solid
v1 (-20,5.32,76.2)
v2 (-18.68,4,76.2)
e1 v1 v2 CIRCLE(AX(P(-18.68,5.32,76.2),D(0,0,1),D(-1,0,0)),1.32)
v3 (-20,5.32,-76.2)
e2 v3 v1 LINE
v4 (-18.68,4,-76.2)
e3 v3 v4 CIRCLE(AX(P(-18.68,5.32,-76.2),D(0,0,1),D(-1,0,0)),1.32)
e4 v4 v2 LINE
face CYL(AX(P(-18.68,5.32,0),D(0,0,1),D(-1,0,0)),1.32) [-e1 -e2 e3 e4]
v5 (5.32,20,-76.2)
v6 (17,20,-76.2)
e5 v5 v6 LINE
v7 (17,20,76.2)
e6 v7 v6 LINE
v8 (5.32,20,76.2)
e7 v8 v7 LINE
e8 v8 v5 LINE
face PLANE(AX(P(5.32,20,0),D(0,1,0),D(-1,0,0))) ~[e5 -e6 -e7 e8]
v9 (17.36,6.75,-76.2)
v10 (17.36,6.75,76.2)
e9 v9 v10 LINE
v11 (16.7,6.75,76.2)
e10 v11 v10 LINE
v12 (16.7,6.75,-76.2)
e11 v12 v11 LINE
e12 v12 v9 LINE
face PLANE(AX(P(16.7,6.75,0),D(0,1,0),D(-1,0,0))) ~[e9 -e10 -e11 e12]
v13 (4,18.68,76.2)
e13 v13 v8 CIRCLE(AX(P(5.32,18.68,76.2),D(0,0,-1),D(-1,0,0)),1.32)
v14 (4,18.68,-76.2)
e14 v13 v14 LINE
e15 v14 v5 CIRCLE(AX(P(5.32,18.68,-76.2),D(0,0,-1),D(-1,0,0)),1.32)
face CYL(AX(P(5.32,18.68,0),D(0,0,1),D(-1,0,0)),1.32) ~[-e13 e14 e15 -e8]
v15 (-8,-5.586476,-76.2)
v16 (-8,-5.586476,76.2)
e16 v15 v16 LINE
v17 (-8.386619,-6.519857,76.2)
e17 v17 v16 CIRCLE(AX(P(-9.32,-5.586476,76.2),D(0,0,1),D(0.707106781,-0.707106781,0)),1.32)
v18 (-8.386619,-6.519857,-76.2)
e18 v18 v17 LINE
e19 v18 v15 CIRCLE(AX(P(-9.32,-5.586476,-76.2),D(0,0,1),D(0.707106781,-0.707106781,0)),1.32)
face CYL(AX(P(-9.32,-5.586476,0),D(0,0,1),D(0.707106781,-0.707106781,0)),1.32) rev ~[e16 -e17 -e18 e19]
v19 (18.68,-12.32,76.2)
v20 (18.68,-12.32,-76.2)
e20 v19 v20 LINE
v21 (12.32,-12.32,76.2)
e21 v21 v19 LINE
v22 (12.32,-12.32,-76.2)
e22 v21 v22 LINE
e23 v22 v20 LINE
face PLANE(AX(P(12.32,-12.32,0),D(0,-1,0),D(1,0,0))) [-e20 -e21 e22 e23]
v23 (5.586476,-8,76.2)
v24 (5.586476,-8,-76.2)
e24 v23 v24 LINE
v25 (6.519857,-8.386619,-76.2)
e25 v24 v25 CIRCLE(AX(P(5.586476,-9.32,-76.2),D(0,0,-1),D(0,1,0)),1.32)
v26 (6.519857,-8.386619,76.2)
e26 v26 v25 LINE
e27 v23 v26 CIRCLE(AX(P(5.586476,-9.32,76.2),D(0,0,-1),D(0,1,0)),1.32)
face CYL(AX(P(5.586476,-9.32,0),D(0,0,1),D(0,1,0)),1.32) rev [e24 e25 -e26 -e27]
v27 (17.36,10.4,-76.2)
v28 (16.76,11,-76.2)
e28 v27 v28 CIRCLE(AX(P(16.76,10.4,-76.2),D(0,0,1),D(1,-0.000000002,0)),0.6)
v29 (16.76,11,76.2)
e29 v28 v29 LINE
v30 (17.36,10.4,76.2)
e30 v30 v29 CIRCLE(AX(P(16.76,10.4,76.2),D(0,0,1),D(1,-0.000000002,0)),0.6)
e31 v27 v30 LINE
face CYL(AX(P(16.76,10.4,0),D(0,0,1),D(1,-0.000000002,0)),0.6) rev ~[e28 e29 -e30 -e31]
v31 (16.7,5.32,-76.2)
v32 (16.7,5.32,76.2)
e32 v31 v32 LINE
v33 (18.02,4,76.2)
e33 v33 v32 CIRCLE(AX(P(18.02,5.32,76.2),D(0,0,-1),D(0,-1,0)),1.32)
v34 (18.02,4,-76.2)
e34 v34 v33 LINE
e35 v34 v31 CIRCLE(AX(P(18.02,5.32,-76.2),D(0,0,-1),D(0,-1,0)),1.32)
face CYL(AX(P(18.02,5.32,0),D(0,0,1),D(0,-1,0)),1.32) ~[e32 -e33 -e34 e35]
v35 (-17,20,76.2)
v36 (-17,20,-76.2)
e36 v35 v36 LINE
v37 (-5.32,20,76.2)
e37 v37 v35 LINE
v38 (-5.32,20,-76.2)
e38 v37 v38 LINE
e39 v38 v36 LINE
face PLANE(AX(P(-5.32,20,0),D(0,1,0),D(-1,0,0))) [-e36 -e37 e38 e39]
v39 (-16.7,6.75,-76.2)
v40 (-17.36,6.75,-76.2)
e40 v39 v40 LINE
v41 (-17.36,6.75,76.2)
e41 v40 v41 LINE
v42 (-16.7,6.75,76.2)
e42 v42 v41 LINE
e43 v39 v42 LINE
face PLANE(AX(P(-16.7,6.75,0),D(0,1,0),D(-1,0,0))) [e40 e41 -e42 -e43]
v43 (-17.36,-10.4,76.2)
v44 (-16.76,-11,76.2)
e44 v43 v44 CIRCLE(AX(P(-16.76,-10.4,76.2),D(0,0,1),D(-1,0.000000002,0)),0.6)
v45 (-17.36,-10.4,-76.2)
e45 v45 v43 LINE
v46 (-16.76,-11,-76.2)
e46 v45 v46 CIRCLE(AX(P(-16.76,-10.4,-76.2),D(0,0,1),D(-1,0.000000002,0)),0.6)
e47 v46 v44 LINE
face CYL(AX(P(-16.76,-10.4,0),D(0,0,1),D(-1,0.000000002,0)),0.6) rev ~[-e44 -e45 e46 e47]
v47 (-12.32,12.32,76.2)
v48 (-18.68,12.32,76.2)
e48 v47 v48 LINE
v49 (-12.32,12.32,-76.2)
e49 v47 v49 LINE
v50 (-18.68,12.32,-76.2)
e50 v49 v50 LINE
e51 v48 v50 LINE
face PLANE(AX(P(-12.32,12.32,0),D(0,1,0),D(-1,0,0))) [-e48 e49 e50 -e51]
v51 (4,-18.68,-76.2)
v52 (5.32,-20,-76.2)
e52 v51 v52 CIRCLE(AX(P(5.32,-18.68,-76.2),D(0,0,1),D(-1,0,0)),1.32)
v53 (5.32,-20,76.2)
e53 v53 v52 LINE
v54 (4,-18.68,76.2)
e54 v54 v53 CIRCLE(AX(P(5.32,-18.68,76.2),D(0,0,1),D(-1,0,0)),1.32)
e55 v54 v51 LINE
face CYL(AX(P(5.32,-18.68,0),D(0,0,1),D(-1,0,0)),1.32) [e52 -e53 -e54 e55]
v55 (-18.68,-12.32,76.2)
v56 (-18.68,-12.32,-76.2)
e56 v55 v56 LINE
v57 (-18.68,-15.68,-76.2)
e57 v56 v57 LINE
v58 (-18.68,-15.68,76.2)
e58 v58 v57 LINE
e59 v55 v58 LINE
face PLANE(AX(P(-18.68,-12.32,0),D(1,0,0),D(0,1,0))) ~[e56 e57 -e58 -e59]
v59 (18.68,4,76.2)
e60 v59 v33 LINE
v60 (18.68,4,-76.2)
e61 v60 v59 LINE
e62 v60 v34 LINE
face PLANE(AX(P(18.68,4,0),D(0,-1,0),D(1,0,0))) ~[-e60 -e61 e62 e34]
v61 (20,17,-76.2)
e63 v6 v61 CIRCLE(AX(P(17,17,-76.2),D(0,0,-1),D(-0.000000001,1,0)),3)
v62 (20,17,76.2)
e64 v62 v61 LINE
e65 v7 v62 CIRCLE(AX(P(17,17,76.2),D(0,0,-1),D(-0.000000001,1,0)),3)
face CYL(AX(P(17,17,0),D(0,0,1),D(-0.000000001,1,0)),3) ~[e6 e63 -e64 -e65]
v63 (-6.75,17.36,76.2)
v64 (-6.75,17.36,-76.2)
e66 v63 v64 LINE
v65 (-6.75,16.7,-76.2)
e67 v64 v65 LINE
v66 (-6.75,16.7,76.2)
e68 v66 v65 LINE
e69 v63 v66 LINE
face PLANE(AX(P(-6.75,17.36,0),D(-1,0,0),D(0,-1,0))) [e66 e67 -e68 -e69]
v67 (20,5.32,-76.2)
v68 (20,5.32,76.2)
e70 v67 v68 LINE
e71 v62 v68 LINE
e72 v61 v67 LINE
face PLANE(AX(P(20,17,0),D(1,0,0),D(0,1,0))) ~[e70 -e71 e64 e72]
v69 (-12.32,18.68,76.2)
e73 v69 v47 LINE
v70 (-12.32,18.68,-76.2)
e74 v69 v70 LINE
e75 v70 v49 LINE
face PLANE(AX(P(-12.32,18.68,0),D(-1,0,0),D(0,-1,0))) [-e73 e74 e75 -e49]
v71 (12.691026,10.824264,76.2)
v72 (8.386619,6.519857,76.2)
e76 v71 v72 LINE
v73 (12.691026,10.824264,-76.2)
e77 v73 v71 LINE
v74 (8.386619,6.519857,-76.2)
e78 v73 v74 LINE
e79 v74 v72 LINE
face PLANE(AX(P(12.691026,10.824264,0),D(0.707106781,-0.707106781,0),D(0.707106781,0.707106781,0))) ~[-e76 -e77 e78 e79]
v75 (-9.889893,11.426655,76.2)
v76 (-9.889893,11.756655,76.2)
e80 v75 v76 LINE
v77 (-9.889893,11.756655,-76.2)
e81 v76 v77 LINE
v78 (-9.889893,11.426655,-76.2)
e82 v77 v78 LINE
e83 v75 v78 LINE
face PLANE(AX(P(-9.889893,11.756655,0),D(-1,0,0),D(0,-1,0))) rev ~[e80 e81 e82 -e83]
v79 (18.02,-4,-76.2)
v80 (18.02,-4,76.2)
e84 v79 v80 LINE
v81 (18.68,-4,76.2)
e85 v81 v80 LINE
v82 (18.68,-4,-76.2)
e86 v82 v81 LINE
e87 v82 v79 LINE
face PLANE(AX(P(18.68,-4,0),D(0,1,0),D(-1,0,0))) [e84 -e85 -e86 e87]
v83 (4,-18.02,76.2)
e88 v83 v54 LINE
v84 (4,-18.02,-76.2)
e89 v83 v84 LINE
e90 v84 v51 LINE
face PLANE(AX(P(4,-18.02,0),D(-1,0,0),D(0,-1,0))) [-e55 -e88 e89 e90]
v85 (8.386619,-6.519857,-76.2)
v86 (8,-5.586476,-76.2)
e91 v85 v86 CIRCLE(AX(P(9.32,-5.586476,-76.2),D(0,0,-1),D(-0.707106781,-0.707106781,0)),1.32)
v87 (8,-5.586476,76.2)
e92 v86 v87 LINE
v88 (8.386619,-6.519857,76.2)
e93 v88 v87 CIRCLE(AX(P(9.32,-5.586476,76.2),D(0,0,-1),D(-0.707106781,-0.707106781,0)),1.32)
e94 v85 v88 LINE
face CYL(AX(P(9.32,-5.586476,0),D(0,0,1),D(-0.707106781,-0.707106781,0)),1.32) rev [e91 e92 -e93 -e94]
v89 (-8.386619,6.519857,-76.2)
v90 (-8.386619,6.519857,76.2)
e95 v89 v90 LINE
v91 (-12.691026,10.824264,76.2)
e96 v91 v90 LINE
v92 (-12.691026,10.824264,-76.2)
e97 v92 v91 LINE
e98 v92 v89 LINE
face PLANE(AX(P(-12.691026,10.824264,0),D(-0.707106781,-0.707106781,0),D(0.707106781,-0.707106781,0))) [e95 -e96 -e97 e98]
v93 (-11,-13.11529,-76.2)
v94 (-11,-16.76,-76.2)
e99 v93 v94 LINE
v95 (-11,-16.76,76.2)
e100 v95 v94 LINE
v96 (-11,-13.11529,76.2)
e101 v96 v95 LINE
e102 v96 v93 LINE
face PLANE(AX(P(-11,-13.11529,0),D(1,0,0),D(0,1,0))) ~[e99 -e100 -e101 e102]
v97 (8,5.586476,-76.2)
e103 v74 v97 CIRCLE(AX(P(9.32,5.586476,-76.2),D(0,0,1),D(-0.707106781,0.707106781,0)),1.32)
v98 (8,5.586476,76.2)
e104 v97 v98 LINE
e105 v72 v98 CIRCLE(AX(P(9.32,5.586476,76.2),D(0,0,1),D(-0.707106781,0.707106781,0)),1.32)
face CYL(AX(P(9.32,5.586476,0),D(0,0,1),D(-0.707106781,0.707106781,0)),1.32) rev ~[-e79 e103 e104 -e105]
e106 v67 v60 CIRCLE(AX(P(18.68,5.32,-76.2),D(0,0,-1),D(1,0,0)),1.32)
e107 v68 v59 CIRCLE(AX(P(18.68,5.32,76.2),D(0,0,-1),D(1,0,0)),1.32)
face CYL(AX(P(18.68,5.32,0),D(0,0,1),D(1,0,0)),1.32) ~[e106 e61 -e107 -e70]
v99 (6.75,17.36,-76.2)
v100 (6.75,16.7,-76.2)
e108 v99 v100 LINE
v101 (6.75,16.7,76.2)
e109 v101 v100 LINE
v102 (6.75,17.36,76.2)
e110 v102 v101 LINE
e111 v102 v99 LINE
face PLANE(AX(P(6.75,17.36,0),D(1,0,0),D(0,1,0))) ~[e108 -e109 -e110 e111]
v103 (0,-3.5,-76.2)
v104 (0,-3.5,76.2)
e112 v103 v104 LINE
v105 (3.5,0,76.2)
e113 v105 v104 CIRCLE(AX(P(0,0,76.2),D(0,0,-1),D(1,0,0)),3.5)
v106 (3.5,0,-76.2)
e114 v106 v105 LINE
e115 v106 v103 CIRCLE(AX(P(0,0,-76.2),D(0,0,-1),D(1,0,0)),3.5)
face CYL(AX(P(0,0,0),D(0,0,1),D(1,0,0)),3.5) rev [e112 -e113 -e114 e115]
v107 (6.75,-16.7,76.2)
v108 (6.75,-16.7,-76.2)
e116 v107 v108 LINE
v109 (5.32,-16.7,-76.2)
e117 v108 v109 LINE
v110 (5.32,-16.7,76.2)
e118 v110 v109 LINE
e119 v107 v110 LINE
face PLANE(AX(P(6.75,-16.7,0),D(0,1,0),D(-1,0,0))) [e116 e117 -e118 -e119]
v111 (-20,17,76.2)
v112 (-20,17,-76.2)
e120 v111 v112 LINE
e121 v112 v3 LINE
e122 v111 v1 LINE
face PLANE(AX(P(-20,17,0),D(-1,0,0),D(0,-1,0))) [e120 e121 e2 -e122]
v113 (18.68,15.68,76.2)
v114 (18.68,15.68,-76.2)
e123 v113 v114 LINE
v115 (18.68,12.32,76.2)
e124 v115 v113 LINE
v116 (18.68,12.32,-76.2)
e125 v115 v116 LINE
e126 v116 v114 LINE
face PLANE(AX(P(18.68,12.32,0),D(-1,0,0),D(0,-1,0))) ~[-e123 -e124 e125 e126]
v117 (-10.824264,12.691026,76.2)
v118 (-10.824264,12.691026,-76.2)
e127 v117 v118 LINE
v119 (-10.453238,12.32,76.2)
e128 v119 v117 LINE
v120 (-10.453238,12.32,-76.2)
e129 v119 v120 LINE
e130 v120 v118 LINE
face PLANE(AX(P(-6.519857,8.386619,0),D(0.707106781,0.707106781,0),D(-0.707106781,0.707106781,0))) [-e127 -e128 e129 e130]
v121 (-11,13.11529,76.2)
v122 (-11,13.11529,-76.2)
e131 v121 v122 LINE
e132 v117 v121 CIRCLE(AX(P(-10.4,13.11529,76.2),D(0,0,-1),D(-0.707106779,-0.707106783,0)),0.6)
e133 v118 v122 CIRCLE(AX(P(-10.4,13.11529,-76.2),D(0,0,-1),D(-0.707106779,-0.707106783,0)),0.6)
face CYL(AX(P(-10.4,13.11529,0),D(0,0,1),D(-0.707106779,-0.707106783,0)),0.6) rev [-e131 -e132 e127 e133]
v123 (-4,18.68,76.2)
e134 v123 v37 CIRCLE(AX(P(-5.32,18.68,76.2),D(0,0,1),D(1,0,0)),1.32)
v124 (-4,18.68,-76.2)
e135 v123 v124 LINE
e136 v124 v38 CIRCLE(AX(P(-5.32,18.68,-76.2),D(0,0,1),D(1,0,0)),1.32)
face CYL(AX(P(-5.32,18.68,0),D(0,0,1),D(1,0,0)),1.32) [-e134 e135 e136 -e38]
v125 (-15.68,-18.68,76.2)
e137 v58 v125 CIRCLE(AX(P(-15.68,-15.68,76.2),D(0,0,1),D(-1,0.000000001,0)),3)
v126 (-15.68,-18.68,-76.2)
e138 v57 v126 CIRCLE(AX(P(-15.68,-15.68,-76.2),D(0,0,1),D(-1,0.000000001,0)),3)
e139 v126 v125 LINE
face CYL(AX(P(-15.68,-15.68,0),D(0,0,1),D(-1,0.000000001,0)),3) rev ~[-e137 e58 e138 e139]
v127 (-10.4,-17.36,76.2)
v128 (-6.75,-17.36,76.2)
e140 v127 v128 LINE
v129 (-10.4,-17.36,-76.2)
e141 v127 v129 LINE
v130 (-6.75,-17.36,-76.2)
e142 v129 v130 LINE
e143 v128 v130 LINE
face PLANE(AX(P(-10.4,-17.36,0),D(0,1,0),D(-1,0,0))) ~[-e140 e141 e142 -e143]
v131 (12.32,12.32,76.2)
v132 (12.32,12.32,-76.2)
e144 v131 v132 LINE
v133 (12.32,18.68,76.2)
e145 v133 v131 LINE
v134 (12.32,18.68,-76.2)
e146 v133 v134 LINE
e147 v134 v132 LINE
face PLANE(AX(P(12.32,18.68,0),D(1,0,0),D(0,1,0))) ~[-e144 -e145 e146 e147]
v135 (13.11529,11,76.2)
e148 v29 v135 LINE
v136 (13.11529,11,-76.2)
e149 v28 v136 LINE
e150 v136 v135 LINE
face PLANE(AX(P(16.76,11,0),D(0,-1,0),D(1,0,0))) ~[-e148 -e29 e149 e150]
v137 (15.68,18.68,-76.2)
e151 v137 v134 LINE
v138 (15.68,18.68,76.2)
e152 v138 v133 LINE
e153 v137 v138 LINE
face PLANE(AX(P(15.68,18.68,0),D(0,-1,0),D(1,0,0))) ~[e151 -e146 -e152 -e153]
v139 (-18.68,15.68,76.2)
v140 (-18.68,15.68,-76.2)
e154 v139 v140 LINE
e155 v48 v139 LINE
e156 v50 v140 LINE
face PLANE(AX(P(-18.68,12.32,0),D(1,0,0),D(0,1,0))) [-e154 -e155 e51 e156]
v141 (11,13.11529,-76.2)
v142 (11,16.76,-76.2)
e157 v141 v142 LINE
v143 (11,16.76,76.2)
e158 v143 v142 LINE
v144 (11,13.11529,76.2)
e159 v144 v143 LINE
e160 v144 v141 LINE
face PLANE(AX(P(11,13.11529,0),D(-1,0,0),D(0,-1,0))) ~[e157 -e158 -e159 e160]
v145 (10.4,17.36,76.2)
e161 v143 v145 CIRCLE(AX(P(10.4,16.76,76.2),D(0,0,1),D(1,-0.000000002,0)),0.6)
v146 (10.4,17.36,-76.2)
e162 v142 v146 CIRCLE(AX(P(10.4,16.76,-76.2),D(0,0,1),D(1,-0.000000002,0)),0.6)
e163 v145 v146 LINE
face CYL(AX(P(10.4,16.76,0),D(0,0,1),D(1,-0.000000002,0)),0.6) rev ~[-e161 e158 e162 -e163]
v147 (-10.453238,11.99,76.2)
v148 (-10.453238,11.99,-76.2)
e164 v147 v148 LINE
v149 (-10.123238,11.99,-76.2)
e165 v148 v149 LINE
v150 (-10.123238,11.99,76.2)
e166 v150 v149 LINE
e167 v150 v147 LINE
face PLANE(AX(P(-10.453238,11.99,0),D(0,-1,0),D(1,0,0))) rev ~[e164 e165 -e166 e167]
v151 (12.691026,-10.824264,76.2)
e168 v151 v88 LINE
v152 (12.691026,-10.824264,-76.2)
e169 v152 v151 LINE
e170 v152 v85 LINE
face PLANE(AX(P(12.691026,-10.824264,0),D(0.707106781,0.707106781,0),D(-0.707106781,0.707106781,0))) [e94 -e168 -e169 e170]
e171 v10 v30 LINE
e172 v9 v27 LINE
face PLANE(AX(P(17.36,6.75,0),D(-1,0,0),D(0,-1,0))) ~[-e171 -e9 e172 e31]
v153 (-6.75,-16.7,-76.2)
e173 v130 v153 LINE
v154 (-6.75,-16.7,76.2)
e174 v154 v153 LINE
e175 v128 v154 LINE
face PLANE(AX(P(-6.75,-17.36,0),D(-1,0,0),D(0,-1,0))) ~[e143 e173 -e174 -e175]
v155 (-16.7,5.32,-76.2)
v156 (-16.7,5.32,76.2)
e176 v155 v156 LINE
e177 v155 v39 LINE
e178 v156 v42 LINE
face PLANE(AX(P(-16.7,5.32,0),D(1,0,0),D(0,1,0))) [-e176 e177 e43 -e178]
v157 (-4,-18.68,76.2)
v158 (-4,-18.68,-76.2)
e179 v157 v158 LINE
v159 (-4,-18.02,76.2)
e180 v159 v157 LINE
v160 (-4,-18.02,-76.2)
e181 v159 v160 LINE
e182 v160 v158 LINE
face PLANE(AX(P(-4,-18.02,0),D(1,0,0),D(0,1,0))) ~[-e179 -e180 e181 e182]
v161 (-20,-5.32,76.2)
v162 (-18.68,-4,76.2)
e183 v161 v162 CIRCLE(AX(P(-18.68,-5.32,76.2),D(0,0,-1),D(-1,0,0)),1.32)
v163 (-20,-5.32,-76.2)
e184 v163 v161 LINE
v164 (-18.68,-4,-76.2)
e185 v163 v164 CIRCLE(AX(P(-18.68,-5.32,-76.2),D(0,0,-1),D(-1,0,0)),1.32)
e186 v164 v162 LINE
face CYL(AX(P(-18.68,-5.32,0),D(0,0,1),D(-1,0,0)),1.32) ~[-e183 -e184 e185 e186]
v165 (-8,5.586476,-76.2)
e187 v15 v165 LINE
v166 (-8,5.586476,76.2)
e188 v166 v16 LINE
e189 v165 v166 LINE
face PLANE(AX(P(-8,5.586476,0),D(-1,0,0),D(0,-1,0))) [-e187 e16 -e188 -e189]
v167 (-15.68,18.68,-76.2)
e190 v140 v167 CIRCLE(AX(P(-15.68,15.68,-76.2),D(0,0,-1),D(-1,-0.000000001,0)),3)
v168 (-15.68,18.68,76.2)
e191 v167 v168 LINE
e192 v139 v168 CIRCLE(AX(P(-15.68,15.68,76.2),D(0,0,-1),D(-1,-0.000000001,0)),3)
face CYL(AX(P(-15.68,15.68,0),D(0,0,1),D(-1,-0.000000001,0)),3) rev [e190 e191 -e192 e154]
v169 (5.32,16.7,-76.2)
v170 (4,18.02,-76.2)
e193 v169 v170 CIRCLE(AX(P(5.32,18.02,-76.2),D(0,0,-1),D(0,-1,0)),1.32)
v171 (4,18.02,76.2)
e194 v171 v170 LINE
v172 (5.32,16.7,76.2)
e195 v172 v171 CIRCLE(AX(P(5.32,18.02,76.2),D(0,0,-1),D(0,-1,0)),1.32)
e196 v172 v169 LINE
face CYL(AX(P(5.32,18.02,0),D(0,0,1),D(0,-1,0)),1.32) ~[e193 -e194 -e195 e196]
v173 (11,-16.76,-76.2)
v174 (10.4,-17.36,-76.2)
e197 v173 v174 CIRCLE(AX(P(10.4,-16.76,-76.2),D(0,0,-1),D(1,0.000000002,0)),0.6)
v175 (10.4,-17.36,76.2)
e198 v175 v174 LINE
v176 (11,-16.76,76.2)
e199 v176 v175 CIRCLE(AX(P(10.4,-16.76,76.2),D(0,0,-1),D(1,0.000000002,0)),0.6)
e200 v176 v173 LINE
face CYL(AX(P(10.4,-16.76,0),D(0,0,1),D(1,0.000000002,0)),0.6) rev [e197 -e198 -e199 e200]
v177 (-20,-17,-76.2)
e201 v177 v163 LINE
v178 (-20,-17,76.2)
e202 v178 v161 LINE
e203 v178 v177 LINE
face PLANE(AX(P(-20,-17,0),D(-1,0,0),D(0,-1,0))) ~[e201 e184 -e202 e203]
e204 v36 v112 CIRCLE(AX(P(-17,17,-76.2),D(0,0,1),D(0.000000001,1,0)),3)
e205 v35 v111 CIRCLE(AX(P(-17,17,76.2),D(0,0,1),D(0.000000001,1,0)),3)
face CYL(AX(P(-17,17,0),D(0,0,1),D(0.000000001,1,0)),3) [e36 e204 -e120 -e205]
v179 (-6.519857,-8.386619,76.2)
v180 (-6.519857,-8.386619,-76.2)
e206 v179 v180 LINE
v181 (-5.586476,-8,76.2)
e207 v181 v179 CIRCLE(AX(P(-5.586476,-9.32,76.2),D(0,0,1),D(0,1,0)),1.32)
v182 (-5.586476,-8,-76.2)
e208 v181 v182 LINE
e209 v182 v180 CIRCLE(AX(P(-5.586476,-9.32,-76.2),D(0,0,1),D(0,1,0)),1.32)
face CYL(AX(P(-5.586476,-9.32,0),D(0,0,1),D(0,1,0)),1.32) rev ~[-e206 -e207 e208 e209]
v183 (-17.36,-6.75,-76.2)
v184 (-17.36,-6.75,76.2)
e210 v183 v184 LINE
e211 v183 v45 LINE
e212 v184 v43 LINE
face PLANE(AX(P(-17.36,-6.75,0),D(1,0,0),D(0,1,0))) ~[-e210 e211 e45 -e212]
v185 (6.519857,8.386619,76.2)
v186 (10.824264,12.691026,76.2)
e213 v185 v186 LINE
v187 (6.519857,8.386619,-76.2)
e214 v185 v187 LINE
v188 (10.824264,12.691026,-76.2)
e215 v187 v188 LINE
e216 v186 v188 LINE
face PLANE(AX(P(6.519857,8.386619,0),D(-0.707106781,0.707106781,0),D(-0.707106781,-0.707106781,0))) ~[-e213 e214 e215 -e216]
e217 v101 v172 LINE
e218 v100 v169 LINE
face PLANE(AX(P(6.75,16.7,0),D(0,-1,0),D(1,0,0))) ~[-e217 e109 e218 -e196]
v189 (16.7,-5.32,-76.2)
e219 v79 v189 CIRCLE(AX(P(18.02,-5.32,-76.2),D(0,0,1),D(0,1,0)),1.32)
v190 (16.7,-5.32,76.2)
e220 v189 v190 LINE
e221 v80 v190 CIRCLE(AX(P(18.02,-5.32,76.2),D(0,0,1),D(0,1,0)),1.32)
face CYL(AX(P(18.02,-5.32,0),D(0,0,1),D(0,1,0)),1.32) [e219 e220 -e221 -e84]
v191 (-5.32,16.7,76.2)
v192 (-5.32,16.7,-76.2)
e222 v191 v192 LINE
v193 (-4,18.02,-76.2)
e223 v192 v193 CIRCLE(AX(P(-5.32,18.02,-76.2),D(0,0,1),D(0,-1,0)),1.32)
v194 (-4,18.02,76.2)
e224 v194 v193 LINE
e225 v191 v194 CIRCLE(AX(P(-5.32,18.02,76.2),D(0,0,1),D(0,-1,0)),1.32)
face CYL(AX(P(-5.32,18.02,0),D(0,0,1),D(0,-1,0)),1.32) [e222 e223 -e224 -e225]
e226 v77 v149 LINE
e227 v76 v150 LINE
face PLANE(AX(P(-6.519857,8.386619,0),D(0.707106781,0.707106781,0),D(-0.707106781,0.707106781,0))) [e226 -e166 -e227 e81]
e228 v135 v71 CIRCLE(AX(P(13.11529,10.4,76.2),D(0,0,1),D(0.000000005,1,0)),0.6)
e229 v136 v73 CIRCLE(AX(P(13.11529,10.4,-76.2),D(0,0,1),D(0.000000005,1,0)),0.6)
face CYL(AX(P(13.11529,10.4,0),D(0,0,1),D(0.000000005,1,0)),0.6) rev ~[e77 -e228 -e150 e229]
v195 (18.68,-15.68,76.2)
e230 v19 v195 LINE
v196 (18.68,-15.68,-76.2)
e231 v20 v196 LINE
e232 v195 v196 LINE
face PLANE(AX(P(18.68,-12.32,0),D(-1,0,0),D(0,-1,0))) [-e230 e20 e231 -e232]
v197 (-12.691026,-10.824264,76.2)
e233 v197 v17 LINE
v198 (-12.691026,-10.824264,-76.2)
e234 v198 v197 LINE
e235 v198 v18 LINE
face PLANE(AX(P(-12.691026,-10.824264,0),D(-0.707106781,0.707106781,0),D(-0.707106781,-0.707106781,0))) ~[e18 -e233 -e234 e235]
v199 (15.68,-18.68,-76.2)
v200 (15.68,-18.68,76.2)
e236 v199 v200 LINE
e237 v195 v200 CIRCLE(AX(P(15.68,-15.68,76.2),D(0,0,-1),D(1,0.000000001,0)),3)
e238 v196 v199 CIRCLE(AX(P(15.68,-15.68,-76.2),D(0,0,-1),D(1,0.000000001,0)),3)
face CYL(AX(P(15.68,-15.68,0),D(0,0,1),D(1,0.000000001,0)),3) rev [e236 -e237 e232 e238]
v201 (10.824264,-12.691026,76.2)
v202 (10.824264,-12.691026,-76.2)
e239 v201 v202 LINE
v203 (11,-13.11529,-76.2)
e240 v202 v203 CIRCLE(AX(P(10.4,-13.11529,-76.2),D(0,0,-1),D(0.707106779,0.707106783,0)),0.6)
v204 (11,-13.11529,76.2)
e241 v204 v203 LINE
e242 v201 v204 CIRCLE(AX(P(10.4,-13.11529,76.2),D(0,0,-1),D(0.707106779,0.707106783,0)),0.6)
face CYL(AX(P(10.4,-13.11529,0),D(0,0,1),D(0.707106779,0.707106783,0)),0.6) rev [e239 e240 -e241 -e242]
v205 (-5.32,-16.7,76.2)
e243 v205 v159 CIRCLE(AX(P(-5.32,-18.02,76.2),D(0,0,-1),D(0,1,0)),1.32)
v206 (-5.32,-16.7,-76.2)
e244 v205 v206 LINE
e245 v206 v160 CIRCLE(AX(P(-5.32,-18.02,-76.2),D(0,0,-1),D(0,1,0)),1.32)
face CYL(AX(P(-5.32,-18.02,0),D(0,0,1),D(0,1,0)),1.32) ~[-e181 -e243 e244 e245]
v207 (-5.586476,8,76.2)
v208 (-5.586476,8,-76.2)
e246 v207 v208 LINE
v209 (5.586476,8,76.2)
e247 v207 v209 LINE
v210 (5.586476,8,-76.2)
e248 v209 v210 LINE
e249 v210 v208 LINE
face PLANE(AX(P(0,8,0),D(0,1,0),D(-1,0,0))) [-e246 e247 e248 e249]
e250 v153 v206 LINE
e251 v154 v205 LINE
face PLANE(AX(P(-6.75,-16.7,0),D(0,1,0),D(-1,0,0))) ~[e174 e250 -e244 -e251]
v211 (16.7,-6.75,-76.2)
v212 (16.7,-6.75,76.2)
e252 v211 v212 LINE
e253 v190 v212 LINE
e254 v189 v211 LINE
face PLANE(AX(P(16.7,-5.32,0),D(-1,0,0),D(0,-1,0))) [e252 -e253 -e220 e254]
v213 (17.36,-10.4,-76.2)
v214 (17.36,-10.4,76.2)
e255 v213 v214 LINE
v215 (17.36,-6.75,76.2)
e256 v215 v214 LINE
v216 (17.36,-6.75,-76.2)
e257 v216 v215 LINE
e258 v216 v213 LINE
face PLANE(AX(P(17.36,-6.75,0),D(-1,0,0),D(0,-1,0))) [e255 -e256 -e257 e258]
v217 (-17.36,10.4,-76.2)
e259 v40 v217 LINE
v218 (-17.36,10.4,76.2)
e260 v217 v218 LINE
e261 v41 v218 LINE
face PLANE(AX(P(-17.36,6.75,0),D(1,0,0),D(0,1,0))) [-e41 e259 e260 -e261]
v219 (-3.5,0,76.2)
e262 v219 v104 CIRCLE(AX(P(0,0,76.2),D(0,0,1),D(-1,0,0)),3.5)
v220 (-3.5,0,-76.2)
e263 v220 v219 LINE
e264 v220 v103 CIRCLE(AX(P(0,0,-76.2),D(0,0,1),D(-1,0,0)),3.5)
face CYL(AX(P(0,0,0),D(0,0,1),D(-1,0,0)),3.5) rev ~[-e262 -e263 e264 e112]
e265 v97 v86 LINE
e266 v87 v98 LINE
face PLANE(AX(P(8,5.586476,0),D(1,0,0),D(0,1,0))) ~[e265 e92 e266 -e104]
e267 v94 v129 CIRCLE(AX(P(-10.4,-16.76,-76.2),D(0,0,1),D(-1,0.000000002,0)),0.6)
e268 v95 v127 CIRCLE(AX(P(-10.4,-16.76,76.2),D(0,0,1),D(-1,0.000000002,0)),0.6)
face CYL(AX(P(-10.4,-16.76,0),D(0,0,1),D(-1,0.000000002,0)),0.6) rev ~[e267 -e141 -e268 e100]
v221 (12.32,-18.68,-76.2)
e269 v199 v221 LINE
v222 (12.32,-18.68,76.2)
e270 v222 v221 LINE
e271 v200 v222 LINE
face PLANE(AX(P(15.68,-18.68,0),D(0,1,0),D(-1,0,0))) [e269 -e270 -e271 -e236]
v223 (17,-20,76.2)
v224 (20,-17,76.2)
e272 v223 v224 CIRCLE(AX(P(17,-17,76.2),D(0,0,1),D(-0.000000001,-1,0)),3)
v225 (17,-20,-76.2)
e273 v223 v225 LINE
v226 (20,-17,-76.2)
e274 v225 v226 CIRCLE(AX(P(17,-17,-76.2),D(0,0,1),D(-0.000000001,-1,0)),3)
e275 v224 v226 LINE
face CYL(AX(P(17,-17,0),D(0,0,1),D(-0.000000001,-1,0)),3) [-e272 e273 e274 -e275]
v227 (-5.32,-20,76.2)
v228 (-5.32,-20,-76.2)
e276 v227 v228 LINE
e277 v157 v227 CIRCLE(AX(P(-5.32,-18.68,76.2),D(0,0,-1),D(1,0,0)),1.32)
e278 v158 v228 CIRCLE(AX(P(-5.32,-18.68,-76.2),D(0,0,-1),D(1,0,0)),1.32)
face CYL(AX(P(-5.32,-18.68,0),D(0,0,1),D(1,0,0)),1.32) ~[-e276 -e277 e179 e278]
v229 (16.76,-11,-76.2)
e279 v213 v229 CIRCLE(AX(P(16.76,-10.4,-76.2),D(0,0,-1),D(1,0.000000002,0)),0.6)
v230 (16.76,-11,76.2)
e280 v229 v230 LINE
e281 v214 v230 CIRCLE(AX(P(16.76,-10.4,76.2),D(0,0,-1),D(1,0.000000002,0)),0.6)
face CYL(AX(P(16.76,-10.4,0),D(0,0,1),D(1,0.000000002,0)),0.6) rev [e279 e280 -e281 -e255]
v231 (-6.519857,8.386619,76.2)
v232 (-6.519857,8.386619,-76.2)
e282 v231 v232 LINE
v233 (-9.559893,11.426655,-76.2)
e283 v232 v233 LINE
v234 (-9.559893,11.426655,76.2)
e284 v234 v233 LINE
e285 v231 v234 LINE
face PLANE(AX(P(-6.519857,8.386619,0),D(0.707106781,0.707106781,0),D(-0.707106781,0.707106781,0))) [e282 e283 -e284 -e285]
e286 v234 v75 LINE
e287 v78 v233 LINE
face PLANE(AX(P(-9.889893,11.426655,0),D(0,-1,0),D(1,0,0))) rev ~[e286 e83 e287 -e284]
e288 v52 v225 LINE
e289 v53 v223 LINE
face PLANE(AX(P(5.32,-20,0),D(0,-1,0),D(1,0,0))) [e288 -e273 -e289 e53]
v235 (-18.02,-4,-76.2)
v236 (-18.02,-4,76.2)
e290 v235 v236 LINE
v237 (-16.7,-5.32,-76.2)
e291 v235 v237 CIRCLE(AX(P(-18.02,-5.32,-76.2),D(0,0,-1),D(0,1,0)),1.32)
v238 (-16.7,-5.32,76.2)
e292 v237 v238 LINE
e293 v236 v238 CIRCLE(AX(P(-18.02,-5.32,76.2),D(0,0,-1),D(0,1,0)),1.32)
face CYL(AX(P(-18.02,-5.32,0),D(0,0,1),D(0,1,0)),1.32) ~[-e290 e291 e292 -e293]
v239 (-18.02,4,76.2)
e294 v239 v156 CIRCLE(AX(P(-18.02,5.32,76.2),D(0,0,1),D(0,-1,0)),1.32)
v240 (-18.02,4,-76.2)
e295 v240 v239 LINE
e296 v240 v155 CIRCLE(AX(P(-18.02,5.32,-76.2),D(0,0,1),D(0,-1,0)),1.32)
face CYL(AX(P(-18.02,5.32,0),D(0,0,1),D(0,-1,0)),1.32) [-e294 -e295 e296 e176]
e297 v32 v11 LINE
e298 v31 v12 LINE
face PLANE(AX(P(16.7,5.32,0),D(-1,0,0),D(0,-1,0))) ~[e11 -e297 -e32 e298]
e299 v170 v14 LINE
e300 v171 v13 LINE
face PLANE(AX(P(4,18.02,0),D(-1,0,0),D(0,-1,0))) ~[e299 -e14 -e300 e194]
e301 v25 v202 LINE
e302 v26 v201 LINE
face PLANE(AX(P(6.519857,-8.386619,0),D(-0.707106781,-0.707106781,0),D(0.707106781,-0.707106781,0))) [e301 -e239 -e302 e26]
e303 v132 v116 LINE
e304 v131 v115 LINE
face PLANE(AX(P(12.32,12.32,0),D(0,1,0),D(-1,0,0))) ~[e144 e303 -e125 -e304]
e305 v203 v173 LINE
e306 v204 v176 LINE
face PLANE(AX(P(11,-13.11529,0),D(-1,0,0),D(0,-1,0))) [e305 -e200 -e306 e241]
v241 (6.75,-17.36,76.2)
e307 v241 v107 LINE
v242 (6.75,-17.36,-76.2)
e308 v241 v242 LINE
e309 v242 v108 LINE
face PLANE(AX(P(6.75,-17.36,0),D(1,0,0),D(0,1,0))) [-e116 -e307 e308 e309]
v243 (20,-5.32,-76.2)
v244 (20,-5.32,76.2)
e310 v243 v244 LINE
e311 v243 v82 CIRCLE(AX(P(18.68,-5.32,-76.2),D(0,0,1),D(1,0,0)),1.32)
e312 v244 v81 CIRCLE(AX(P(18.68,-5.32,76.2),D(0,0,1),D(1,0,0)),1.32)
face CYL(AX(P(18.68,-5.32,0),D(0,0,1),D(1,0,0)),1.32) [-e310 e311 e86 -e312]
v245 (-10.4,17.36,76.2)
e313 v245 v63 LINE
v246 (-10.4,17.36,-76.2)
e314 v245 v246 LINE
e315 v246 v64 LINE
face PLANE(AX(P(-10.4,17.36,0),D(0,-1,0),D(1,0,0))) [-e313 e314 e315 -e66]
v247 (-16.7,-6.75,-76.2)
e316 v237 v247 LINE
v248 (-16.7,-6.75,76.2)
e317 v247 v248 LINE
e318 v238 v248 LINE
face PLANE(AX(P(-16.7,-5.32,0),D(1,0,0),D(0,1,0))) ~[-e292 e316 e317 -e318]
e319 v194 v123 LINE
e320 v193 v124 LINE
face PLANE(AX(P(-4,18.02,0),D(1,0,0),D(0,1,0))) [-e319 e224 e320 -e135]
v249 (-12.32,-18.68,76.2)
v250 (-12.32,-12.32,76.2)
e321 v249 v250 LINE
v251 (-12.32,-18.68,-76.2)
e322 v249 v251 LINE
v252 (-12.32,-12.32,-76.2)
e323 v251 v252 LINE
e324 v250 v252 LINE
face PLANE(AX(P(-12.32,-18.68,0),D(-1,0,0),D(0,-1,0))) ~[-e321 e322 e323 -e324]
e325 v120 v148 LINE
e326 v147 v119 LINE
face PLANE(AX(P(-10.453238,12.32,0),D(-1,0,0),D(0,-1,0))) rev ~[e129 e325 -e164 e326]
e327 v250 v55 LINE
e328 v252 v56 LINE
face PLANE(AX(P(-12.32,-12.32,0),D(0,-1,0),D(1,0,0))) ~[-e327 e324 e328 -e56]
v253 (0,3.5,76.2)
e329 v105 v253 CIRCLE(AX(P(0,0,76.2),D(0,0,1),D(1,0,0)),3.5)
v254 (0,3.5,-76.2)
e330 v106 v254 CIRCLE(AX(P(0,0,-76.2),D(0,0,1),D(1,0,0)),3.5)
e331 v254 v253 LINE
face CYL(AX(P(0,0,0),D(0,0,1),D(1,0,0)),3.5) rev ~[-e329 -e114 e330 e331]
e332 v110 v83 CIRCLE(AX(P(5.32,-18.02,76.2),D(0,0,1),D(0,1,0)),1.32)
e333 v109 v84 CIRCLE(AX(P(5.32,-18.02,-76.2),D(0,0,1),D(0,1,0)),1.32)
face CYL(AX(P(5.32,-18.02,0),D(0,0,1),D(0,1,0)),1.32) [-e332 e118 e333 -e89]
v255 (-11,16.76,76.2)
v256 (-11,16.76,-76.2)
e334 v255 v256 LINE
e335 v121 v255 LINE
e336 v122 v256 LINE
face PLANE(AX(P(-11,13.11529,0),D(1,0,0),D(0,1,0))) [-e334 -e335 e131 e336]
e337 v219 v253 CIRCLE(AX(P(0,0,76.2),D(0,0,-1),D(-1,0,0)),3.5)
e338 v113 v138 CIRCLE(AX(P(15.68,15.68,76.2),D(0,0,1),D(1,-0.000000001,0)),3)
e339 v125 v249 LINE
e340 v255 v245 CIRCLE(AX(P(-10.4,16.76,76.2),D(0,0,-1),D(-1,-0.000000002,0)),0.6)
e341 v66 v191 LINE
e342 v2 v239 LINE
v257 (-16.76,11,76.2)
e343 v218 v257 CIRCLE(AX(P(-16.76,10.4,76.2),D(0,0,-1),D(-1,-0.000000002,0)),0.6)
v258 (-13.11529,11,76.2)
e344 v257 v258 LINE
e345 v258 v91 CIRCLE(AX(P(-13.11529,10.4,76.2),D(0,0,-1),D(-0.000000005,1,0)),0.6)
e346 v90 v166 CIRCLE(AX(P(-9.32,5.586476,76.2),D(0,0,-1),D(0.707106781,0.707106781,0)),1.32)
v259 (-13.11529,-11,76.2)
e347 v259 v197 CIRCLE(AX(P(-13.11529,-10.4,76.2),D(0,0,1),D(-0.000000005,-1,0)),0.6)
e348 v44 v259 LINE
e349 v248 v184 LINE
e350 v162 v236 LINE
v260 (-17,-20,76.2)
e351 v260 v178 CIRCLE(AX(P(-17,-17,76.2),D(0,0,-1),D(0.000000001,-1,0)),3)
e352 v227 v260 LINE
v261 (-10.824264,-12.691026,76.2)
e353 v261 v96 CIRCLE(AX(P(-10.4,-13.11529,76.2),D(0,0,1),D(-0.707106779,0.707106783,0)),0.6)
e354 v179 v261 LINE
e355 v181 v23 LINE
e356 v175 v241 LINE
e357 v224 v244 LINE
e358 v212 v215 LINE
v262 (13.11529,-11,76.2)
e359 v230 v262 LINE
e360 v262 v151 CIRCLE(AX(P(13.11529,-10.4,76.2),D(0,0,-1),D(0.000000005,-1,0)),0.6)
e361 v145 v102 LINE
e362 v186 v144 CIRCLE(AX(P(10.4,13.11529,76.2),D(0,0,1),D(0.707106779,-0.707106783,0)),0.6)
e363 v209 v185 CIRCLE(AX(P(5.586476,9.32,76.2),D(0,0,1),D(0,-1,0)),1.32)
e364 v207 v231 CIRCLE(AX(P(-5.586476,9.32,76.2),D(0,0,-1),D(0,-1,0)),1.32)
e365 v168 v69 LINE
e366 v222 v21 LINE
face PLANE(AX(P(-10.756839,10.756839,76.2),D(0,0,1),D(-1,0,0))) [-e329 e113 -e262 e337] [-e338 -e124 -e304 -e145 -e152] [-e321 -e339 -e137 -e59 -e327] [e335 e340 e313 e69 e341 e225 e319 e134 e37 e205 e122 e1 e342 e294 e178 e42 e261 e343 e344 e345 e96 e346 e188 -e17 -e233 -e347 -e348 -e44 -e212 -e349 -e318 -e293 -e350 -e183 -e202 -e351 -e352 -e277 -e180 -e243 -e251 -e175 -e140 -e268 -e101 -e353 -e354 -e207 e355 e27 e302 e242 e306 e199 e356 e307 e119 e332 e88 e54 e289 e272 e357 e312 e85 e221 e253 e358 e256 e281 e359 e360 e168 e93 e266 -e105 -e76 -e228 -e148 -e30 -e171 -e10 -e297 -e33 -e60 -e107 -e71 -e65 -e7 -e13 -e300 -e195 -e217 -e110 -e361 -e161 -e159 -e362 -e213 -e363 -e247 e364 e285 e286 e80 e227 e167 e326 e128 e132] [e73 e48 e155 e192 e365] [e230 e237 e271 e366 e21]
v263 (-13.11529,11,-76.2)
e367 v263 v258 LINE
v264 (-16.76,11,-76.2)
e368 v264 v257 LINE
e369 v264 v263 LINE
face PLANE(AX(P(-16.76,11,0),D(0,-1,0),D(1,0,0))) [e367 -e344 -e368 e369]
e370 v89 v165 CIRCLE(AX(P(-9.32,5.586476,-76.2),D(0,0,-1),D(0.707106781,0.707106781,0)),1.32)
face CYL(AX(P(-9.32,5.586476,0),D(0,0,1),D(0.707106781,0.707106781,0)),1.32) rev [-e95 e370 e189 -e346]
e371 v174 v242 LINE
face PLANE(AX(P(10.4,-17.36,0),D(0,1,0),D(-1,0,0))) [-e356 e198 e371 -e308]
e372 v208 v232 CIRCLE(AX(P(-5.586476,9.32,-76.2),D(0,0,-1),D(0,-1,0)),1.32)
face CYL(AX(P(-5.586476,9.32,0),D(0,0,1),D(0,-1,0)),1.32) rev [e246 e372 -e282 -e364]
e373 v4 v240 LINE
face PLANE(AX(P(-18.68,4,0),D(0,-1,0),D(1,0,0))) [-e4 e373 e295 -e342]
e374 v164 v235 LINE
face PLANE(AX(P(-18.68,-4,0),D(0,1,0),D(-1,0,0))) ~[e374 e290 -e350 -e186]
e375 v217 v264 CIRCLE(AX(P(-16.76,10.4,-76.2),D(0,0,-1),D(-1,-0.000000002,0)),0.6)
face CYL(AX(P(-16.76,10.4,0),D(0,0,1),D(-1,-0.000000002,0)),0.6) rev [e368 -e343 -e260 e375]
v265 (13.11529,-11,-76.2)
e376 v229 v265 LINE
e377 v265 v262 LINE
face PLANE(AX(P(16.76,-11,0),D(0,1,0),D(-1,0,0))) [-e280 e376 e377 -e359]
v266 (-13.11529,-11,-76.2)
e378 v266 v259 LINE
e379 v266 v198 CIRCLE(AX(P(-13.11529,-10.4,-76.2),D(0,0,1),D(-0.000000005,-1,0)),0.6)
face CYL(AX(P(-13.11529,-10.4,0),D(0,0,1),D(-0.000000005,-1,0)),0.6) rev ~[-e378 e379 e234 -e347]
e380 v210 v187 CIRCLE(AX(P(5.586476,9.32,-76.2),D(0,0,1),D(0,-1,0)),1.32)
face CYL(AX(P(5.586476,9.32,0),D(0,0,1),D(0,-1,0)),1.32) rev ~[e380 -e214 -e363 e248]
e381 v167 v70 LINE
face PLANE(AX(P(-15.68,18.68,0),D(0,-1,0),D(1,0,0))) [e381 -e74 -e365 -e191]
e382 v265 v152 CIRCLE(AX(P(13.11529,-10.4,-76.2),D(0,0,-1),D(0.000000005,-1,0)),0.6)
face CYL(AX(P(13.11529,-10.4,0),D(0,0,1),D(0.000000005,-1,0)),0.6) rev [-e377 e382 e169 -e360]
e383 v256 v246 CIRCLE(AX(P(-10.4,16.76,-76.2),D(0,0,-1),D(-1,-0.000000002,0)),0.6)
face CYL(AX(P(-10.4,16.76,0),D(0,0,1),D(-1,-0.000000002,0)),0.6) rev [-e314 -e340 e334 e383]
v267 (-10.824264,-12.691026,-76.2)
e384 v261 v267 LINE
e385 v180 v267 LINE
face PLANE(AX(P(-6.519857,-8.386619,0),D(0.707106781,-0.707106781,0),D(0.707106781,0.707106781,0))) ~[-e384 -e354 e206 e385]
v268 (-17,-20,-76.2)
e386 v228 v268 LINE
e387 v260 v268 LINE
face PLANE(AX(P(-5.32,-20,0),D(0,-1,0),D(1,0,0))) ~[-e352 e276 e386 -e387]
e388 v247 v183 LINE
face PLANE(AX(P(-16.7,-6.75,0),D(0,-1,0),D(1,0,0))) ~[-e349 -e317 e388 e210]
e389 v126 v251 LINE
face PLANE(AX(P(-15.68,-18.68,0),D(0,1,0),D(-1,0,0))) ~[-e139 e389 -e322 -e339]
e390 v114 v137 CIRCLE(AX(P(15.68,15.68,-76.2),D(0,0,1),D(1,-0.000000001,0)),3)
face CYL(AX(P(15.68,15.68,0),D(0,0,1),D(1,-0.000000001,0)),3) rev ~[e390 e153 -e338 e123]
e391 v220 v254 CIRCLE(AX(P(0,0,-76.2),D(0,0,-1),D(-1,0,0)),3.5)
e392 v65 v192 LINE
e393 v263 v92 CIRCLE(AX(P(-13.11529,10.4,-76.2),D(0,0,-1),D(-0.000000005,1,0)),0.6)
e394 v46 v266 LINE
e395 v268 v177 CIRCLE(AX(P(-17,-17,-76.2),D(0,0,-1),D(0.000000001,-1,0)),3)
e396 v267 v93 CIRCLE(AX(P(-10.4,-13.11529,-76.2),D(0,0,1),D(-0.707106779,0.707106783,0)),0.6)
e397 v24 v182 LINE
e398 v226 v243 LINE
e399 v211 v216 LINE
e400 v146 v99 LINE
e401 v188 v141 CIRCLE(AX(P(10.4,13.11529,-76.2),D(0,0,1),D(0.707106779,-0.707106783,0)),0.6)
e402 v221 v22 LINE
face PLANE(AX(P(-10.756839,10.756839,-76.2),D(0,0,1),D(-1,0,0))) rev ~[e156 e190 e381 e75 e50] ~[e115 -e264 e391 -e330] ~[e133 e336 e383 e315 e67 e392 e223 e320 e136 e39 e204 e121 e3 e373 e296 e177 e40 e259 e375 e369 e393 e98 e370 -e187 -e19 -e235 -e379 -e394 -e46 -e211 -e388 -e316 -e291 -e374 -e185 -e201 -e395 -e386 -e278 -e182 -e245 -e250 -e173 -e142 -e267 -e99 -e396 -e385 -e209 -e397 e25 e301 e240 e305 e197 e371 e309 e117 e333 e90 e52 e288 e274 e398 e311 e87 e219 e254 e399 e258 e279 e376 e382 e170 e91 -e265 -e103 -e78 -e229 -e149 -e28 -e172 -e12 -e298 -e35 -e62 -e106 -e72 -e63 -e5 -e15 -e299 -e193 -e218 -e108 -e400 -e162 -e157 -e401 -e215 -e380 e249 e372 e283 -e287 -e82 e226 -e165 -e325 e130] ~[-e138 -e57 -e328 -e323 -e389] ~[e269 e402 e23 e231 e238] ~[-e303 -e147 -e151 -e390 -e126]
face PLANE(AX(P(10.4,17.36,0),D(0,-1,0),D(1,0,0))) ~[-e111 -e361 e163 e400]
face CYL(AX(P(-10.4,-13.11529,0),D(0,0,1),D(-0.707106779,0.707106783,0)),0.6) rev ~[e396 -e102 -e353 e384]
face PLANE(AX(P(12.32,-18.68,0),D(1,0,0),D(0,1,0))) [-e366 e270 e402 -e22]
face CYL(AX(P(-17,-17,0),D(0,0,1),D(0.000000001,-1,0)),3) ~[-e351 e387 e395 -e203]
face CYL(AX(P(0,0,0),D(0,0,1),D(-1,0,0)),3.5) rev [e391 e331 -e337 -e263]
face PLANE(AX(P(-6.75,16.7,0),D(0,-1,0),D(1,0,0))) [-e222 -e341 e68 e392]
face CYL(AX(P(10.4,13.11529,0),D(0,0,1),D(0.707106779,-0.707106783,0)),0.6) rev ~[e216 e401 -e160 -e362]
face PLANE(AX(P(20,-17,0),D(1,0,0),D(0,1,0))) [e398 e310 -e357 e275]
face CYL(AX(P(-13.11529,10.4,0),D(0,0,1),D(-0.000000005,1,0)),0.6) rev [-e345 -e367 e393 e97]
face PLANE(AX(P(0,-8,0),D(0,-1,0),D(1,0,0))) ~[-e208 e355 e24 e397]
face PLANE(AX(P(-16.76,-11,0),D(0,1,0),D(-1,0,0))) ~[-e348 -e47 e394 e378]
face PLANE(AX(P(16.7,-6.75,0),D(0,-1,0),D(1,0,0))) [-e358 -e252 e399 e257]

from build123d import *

# Parameters (mm, degrees)
BOSS_EXTRUDE1_DEPTH     = 76.2
CUT_EXTRUDE1_DEPTH      = 77.2
CUT_EXTRUDE1_DEPTH_BACK = 77.2


with BuildPart() as part:
    # Sketch4 → Boss-Extrude1 (new body, symmetric)
    with BuildSketch(Plane.XY):
        with BuildLine():
            Line((20, -17), (20, -5.32))
            ThreePointArc((20, -5.32), (19.613380951, -4.386619049), (18.68, -4))
            Line((18.68, -4), (18.02, -4))
            ThreePointArc((18.02, -4), (17.086619049, -4.386619049), (16.7, -5.32))
            Line((16.7, -5.32), (16.7, -6.75))
            Line((16.7, -6.75), (17.36, -6.75))
            Line((17.36, -6.75), (17.36, -10.4))
            ThreePointArc((17.36, -10.4), (17.184264069, -10.824264069), (16.76, -11))
            Line((16.76, -11), (13.11529004, -11))
            ThreePointArc((13.11529004, -11), (12.88567998, -10.95432772), (12.691025971, -10.824264069))
            Line((12.691025971, -10.824264069), (8.386619049, -6.519857147))
            ThreePointArc((8.386619049, -6.519857147), (8.100479017, -6.091618326), (8, -5.586476195))
            Line((8, -5.586476195), (8, 0))
            Line((8, 0), (3.5, 0))
            ThreePointArc((3.5, 0), (2.474873734, -2.474873734), (0, -3.5))
            Line((0, -3.5), (0, -8))
            Line((0, -8), (5.586476195, -8))
            ThreePointArc((5.586476195, -8), (6.091618326, -8.100479017), (6.519857147, -8.386619049))
            Line((6.519857147, -8.386619049), (10.824264069, -12.691025971))
            ThreePointArc((10.824264069, -12.691025971), (10.95432772, -12.88567998), (11, -13.11529004))
            Line((11, -13.11529004), (11, -16.76))
            ThreePointArc((11, -16.76), (10.824264069, -17.184264069), (10.4, -17.36))
            Line((10.4, -17.36), (6.75, -17.36))
            Line((6.75, -17.36), (6.75, -16.7))
            Line((6.75, -16.7), (5.32, -16.7))
            ThreePointArc((5.32, -16.7), (4.386619049, -17.086619049), (4, -18.02))
            Line((4, -18.02), (4, -18.68))
            ThreePointArc((4, -18.68), (4.386619049, -19.613380951), (5.32, -20))
            Line((5.32, -20), (17, -20))
            ThreePointArc((17, -20), (19.121320344, -19.121320344), (20, -17))
        make_face()
        with BuildLine():
            Line((15.68, -18.68), (12.32, -18.68))
            Line((12.32, -18.68), (12.32, -12.32))
            Line((12.32, -12.32), (18.68, -12.32))
            Line((18.68, -12.32), (18.68, -15.68))
            ThreePointArc((18.68, -15.68), (17.801320344, -17.801320344), (15.68, -18.68))
        make_face(mode=Mode.SUBTRACT)
    extrude(amount=BOSS_EXTRUDE1_DEPTH, both=True)

    # Mirror1: part across plane


with BuildPart() as part_1:
    add(part.part)
    add(part.part.mirror(Plane(origin=(0, 0, 0), x_dir=(0, 0, 1), z_dir=(1, 0, 0))))

    # Mirror2: part across plane


with BuildPart() as part_2:
    add(part_1.part)
    add(part_1.part.mirror(Plane.ZX))

    # Sketch5 → Cut-Extrude1 (cut, two sides)
    with BuildSketch(Plane.XY) as cut_extrude1_sk:
        Polygon((-10.453238098, 12.32), (-10.453238098, 11.99), (-10.123238098, 11.99), (-9.88989286, 11.756654762), (-9.88989286, 11.426654762), (-9.55989286, 11.426654762), (-9.55989286, 12.32), align=None)
    extrude(amount=CUT_EXTRUDE1_DEPTH, mode=Mode.SUBTRACT)
    extrude(cut_extrude1_sk.sketch, amount=-CUT_EXTRUDE1_DEPTH_BACK, mode=Mode.SUBTRACT)


solid = part_2.part
